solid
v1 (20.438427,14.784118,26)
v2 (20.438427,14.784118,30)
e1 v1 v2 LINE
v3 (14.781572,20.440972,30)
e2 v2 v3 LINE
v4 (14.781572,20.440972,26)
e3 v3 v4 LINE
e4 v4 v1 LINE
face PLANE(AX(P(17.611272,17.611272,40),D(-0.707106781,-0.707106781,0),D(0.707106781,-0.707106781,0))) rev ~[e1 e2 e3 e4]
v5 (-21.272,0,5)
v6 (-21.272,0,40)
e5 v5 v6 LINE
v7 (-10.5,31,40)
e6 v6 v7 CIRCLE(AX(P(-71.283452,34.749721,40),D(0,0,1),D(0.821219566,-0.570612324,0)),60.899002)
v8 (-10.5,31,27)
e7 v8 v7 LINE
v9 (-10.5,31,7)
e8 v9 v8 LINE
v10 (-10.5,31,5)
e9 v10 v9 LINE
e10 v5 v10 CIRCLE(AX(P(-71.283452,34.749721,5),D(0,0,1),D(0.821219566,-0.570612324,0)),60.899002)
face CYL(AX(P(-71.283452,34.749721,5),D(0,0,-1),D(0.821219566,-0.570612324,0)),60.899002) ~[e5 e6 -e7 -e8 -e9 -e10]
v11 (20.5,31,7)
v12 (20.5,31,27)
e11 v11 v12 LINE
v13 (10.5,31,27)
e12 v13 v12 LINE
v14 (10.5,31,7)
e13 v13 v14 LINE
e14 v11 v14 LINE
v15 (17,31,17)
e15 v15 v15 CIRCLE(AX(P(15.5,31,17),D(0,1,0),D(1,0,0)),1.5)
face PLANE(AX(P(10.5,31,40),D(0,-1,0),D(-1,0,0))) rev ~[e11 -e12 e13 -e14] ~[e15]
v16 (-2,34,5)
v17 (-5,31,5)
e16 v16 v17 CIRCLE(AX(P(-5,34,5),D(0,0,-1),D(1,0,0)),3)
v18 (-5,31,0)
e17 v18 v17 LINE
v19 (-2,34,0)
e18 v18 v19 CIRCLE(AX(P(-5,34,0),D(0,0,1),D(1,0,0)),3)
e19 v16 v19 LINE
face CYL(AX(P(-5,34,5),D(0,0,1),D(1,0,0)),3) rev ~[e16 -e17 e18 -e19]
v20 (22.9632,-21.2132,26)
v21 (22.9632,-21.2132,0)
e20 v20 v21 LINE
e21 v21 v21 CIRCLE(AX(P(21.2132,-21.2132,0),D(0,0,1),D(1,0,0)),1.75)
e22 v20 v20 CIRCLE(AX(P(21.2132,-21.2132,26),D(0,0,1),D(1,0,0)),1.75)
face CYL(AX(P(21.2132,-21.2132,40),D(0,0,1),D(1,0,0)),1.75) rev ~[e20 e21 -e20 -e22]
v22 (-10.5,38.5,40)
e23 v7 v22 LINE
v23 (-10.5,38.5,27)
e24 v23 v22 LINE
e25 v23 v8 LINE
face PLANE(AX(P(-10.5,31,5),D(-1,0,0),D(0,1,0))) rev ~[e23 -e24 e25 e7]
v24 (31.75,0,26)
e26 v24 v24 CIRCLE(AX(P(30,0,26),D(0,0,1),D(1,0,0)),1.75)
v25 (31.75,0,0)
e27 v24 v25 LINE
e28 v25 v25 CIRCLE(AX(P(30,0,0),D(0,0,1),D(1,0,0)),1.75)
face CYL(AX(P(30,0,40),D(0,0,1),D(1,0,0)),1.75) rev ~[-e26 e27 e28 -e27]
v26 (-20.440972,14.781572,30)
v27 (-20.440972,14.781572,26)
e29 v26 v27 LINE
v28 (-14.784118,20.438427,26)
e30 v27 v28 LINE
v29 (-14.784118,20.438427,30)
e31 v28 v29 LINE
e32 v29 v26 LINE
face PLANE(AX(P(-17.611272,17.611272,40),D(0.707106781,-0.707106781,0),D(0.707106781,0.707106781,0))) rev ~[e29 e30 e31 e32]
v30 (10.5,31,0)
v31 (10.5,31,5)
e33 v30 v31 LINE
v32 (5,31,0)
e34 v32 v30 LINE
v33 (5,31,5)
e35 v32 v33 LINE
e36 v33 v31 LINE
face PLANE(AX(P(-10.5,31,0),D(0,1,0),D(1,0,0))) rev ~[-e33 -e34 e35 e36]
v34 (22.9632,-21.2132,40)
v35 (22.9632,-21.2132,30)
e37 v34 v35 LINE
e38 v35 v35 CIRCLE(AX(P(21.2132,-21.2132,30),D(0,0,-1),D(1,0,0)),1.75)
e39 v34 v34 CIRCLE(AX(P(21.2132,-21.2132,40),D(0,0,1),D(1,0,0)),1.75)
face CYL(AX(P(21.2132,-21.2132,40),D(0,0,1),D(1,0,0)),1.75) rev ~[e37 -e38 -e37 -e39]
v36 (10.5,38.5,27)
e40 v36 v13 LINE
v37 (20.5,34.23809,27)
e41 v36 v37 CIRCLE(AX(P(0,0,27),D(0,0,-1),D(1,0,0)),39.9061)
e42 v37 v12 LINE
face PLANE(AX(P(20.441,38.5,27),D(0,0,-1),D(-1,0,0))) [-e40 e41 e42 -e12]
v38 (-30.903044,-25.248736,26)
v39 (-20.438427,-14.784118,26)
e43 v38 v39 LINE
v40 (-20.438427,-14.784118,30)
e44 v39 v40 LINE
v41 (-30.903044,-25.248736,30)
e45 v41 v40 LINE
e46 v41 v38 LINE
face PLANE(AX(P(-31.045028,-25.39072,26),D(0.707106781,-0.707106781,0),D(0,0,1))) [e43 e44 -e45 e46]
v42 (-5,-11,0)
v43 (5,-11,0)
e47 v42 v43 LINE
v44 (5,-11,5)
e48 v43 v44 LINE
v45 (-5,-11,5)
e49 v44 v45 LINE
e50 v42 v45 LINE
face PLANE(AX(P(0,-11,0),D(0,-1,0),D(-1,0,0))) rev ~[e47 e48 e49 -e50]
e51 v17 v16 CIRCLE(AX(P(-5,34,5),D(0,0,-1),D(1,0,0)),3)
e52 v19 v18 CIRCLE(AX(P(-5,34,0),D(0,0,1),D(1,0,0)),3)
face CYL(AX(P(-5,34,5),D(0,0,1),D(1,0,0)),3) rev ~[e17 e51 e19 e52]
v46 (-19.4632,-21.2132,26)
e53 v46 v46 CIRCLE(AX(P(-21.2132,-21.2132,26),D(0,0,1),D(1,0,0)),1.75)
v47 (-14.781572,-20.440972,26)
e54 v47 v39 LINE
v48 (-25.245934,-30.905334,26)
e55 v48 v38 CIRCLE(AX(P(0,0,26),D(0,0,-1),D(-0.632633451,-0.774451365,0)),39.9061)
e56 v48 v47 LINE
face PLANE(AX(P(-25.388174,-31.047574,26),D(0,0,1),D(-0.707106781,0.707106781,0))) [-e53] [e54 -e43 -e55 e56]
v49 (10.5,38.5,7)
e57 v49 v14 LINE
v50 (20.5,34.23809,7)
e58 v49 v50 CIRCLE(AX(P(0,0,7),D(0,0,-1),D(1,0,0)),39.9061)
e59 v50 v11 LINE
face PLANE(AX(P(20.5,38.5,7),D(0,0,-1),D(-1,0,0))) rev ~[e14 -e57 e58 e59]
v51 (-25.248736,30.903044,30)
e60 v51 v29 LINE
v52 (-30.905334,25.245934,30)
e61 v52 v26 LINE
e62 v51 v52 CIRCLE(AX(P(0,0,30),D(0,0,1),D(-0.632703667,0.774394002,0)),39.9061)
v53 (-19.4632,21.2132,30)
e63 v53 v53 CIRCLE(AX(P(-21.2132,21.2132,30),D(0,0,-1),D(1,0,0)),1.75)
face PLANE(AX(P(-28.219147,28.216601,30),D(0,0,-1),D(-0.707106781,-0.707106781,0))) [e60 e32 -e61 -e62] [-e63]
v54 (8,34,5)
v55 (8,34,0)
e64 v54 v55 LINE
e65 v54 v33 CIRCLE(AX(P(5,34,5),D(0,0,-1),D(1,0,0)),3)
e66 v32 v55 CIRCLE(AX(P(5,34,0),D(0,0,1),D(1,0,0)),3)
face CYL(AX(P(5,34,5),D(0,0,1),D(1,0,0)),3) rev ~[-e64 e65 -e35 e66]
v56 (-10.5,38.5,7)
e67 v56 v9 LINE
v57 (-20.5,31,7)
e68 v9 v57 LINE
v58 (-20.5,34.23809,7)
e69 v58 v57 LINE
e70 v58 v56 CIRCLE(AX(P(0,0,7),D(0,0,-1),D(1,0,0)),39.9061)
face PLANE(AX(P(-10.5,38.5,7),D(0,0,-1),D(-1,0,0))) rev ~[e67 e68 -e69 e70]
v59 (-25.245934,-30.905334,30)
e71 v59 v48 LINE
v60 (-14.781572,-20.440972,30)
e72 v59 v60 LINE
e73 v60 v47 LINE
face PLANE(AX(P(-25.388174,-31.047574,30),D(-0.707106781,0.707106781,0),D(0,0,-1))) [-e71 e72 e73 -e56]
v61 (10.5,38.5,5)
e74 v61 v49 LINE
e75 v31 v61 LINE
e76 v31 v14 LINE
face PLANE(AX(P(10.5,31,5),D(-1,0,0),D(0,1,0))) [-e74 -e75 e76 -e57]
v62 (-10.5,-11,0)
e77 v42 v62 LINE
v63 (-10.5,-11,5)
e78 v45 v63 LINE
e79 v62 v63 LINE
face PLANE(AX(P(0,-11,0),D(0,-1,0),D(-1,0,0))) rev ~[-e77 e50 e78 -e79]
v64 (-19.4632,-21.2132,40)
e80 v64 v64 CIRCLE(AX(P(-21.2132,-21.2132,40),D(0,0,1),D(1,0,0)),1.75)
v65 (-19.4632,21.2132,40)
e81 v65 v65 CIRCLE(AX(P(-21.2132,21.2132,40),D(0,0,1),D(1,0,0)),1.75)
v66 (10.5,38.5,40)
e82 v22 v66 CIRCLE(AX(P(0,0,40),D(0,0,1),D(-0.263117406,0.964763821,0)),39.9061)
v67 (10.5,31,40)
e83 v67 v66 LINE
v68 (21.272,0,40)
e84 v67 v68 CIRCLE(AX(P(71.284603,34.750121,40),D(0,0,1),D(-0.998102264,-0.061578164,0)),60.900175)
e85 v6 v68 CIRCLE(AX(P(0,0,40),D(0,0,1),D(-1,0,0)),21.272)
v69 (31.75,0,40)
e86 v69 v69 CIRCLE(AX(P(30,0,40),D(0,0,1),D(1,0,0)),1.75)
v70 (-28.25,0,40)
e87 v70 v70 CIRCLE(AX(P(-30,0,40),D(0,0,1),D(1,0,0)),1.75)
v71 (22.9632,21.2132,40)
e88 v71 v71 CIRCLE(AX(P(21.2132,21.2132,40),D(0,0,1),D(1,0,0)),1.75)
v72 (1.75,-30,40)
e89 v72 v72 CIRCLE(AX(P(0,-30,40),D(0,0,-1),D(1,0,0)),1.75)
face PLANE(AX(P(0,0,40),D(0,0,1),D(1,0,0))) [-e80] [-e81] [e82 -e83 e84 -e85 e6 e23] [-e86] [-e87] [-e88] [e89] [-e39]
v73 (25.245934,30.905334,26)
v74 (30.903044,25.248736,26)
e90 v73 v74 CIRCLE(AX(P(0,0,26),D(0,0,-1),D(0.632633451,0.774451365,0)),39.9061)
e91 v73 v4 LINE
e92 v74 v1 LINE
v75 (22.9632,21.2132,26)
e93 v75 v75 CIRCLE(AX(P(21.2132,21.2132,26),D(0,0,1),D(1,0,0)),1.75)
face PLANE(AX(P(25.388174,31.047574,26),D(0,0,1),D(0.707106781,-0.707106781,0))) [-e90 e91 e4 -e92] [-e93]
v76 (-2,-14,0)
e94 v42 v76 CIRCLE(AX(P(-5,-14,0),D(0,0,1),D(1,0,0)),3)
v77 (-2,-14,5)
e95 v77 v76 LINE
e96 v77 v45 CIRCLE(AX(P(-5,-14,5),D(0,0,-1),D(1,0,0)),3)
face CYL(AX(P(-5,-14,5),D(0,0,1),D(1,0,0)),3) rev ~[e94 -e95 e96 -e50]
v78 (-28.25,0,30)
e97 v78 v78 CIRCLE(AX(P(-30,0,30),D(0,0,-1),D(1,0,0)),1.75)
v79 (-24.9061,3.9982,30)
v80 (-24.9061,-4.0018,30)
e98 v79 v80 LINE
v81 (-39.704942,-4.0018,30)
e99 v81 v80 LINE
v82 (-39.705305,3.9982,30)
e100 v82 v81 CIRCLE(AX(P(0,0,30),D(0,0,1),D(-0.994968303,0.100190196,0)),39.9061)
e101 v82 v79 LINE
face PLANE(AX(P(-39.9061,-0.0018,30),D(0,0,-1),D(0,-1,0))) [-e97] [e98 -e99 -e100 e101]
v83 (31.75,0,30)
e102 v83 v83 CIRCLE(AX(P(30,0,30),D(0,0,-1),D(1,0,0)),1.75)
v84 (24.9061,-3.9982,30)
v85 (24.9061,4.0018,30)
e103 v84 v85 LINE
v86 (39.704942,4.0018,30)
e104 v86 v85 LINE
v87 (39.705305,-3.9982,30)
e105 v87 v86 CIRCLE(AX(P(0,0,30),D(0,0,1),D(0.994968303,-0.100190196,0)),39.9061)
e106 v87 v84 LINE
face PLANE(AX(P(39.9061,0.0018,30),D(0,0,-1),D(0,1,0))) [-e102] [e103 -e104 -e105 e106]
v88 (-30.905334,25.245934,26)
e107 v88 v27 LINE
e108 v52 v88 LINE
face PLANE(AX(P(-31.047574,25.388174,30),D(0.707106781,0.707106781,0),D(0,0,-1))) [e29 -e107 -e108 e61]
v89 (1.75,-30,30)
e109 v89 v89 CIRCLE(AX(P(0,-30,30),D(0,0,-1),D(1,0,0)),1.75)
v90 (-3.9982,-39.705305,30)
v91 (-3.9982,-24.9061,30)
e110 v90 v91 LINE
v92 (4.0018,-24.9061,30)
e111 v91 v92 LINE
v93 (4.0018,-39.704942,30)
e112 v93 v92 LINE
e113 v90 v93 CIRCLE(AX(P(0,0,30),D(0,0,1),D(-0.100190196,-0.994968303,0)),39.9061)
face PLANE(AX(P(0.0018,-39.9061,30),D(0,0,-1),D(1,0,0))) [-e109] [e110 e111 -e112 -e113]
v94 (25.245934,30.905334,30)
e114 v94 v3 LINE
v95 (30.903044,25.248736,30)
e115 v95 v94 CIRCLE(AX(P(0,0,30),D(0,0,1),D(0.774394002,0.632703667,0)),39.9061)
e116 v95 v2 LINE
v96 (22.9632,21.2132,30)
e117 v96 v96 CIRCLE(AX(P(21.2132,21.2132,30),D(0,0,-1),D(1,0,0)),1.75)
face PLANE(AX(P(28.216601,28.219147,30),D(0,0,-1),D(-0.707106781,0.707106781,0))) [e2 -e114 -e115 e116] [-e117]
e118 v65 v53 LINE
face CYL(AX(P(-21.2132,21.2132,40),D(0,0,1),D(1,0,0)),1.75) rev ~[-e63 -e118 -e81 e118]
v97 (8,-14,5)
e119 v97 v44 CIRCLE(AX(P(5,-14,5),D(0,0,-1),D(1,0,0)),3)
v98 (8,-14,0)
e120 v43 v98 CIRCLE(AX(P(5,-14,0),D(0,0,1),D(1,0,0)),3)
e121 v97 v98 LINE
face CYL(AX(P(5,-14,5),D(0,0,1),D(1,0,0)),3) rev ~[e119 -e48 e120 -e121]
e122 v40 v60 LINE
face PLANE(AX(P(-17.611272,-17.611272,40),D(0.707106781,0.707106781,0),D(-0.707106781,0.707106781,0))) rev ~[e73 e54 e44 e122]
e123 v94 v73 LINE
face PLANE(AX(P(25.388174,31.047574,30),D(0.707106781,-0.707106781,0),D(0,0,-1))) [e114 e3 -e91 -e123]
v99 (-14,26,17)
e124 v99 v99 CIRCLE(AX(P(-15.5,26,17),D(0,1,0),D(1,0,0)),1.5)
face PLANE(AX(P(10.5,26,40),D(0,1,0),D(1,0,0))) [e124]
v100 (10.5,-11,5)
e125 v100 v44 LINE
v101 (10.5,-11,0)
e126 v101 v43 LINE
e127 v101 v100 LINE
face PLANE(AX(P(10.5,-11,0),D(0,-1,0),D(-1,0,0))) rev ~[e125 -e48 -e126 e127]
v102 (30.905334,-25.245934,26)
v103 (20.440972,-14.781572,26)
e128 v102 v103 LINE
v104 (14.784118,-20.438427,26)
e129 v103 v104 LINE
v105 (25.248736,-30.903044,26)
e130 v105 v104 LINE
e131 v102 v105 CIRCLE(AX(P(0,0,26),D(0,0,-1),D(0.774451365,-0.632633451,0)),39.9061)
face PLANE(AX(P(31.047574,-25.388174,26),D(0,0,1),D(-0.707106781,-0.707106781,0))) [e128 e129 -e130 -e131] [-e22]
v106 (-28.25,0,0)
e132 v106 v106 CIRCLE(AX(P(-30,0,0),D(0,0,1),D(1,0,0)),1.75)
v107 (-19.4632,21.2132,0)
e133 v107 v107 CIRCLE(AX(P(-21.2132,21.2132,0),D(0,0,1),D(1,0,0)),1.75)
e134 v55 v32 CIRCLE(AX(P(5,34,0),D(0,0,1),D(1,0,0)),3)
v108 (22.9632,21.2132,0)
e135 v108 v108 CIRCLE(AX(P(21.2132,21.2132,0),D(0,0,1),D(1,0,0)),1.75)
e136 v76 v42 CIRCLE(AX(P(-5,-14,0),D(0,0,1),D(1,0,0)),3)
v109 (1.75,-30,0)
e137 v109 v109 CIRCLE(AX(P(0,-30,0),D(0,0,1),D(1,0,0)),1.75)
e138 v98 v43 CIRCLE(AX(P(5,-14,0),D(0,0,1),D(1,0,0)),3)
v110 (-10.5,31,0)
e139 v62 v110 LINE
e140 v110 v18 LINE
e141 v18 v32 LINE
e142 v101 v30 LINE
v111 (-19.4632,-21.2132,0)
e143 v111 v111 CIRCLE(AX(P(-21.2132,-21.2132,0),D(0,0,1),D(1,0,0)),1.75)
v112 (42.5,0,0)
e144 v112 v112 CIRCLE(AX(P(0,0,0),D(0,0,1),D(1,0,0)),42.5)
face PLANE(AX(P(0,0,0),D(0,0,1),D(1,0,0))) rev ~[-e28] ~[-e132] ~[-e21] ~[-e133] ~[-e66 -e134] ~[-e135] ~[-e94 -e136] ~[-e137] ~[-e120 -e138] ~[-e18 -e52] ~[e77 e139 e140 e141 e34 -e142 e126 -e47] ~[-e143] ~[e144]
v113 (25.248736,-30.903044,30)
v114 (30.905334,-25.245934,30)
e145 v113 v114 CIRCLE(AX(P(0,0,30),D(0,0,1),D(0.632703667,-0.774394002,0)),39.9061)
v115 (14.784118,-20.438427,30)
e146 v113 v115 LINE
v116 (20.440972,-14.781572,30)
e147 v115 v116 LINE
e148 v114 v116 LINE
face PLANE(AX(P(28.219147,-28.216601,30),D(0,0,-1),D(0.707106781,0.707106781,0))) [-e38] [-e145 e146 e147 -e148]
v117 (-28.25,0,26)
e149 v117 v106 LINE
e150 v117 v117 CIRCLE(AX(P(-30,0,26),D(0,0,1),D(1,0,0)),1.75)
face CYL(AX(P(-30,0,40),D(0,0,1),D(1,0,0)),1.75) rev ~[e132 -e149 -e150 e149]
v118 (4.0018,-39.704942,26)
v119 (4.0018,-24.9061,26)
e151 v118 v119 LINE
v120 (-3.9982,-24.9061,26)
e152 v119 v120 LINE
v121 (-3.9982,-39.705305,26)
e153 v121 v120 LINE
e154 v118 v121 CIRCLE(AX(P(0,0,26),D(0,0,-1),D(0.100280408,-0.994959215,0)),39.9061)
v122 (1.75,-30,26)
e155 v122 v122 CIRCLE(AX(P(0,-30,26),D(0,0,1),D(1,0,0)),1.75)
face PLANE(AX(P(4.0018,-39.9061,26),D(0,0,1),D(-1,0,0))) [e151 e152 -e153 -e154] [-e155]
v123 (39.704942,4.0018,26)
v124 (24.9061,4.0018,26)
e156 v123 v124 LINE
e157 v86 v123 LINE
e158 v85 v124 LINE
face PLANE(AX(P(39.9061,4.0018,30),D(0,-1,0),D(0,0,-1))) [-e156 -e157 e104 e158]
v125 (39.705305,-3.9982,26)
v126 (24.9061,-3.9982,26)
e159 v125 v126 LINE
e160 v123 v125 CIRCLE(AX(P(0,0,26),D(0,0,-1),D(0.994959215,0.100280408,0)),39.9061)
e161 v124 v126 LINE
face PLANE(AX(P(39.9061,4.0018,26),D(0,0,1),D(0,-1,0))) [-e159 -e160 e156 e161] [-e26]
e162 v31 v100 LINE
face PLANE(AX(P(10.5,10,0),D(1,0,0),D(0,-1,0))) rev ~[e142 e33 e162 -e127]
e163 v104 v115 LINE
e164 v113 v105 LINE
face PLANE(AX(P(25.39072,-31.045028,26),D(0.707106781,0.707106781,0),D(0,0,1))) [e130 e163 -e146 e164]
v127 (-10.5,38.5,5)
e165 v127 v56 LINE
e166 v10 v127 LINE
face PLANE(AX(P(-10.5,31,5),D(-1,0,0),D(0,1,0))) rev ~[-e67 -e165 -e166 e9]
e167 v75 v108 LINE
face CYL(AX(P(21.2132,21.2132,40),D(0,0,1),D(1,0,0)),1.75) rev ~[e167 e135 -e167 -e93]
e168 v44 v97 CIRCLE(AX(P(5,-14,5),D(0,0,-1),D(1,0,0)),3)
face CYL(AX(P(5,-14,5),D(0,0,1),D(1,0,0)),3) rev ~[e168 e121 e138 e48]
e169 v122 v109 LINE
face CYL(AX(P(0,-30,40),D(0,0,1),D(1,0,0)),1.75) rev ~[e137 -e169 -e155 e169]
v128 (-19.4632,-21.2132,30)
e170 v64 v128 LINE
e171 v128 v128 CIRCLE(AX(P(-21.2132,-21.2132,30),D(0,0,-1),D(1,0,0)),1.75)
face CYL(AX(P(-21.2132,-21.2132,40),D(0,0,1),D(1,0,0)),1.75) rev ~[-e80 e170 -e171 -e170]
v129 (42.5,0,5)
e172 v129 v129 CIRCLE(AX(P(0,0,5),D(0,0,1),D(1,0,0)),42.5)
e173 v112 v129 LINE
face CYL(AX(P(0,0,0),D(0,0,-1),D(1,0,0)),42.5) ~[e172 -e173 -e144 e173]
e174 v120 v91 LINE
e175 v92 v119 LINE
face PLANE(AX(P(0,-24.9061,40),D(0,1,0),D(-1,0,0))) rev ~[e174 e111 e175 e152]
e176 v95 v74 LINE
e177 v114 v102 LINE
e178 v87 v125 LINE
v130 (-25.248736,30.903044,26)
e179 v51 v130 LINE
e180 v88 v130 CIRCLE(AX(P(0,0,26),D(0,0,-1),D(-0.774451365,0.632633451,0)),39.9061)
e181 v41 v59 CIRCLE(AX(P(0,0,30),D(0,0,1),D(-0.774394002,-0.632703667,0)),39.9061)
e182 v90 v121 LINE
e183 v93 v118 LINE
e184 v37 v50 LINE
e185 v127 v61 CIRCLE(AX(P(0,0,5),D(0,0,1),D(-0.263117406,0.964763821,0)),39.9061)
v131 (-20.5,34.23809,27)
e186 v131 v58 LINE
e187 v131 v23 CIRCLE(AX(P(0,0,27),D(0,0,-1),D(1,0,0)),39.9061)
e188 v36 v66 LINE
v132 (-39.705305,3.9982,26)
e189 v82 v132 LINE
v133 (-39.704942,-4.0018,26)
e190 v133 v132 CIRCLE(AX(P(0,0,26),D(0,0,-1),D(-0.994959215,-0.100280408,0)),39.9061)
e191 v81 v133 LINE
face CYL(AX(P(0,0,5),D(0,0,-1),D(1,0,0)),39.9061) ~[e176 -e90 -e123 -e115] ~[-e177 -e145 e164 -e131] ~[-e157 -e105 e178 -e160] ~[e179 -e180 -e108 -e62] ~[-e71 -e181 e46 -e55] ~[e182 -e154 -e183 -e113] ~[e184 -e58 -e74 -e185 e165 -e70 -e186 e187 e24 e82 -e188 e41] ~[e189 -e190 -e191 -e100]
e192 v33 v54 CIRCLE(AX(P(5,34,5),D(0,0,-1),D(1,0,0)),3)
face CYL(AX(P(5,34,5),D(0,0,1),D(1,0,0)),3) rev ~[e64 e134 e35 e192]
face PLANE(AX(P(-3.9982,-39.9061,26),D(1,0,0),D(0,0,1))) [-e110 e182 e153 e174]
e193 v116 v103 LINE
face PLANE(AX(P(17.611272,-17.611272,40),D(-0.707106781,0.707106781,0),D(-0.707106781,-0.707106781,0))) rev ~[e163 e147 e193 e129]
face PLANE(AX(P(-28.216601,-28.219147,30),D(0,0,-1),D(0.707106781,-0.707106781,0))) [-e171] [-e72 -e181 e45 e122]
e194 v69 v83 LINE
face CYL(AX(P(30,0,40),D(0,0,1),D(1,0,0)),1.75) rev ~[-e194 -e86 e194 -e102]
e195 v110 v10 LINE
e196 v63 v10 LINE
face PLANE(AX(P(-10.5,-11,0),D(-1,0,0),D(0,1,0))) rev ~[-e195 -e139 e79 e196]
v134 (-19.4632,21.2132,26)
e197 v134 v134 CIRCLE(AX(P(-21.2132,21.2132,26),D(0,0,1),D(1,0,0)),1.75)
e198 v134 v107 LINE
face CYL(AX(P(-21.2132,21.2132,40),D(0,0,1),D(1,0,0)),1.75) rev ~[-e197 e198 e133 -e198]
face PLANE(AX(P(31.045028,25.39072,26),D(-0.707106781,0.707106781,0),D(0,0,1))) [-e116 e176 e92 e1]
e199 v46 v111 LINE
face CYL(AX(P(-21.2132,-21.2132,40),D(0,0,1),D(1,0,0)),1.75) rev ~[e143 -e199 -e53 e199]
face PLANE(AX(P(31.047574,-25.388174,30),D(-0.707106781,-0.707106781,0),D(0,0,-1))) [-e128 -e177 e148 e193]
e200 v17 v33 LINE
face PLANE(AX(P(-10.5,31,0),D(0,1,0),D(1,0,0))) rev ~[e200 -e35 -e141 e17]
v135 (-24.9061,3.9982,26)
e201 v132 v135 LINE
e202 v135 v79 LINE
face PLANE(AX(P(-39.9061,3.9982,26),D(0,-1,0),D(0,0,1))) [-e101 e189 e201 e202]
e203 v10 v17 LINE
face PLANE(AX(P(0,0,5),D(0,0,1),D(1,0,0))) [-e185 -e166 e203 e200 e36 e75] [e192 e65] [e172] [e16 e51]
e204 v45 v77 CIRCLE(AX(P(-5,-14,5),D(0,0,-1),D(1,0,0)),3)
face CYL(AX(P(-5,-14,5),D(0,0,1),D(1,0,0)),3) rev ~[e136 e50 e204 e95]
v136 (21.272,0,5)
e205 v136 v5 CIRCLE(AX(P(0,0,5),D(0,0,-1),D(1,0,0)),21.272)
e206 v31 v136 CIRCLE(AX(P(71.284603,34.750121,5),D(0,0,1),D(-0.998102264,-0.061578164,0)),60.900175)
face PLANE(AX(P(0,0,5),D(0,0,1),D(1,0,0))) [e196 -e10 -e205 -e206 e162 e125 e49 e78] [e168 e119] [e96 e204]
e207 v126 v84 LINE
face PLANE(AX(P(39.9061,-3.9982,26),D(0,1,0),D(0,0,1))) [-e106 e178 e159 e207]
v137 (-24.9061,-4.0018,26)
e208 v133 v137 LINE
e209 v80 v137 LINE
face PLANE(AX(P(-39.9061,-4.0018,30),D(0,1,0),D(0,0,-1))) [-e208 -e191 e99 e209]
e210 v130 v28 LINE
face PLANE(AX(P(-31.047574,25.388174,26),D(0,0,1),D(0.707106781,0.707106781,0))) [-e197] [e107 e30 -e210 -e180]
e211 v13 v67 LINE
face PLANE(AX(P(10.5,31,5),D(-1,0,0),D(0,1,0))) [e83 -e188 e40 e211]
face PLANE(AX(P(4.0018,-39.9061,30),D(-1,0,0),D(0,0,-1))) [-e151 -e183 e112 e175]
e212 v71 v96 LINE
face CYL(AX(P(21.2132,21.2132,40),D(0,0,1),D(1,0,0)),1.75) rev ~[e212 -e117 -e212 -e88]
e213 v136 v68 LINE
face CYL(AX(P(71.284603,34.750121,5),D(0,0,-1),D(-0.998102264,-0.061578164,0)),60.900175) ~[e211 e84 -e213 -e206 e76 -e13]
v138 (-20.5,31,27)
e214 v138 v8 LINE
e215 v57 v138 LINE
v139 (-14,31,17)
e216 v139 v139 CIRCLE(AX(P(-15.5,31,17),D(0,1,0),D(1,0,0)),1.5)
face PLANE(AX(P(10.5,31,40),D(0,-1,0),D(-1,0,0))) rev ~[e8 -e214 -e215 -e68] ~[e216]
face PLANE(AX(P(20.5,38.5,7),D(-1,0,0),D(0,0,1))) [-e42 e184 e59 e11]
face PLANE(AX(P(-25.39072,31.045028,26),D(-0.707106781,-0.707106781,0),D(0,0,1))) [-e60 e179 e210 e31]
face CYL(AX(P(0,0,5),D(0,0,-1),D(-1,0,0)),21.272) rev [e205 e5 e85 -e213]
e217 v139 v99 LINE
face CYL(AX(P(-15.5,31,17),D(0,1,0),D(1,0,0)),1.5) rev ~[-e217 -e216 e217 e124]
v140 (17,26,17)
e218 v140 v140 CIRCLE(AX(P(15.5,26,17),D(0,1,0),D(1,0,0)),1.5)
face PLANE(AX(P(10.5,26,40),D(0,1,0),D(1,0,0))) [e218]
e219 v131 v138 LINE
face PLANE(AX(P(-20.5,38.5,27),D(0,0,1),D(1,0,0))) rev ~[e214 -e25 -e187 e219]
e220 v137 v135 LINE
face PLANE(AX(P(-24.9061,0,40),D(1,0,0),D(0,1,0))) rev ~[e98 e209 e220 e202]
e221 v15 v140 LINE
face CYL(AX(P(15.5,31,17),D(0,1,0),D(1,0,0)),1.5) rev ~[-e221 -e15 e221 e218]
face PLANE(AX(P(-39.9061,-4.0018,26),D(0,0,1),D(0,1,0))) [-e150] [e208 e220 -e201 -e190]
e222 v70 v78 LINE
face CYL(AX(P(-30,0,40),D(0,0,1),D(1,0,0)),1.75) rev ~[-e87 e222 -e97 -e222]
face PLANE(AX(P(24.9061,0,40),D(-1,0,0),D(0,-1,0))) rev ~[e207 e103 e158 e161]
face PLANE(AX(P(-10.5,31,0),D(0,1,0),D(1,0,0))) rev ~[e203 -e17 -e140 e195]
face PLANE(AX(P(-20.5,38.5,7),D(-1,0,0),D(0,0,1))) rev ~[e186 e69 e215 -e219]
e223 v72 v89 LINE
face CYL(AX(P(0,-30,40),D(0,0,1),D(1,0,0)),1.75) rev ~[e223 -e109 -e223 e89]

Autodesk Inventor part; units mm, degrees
ref_plane "YZ Plane" through (0, 0, 0) normal (1, 0, 0) x (0, 1, 0)
ref_plane "XY Plane" through (0, 0, 0) normal (0, 0, 1) x (1, 0, 0)
sketch "Sketch1" plane through (0, 0, 0) normal (0, 0, 1) x (1, 0, 0)
  line L0 (0, -11) -> (-10.5, -11)
  line L1 (-10.5, -11) -> (-10.5, 31)
  line L2 (-10.5, 31) -> (10.5, 31)
  line L3 (10.5, 31) -> (10.5, -11)
  line L4 (10.5, -11) -> (0, -11)
  line L5 (10.5, 10) -> (0, 10)
  line L6 (0, 0) -> (0, 10)
  circle A0 centre (0, 0) radius 42.5
  dimension "d1" = 42
  dimension "d28" = 21
  dimension "d76" = 10
  dimension "d77" = 10.5
  dimension "d78" = 85
extrude "Extrusion6" add sketch "Sketch1" along normal blind 5
sketch "Sketch9" plane through (0, 0, 5) normal (0, 0, 1) x (1, 0, 0)
  line L0 (10.5, -11) -> (-10.5, -11) projected
  line L1 (0, -11) -> (0, -14)
  line L2 (0, -14) -> (-5, -14)
  circle A0 centre (-5, -14) radius 3
  line L3 (0, -14) -> (5, -14)
  circle A1 centre (5, -14) radius 3
  line L4 (-10.5, -11) -> (-10.5, 31) projected
  line L5 (-10.5, 10) -> (10.5, 10)
  line L6 (10.5, 31) -> (-10.5, 31)
  line L7 (0, 31) -> (0, 34)
  line L8 (0, 34) -> (-5, 34)
  circle A2 centre (-5, 34) radius 3
  line L9 (0, 34) -> (5, 34)
  circle A3 centre (5, 34) radius 3
  dimension "d79" = 3
  dimension "d80" = 5
  dimension "d81" = 6
  dimension "d82" = 5
  dimension "d83" = 6
extrude "Extrusion12" cut sketch "Sketch9" against normal through all contours A2 | A1 | A0 | A3
sketch "Sketch10" plane through (0, 0, 5) normal (0, 0, 1) x (1, 0, 0)
  line L0 (-10.5, 31) -> (-10.5, 38.5)
  circle A0 centre (0, 0) radius 39.9061
  line L1 (-10.5, -11) -> (-10.5, -18.5)
  arc A1 (-21.272, 0) -> (21.272, 0) centre (0, 0) ccw
  arc A2 (-21.272, 0) -> (-10.5, 31) centre (-71.284, 34.75) ccw
  line L2 (10.5, 31) -> (10.5, 38.5)
  arc A3 (10.5, 31) -> (21.272, 0) centre (71.284, 34.75) ccw
  dimension "d86" = 7.5
  dimension "d87" = 79.8123
  dimension "d88" = 7.5
extrude "Extrusion13" add sketch "Sketch10" along normal blind 35 contours A2 A1 A3 L2 A0 L0 picked at (-28.5299, 15.6602)
sketch "Sketch11" plane through (0, 0, 40) normal (0, 0, 1) x (1, 0, 0)
  line L0 (0, 0) -> (0, -30)
  circle A0 centre (0, -30) radius 1.75
  circle A1 centre (21.2132, -21.2132) radius 1.75
  circle A2 centre (30, 0) radius 1.75
  circle A3 centre (21.2132, 21.2132) radius 1.75
  circle A4 centre (0, 30) radius 1.75
  circle A5 centre (-21.2132, 21.2132) radius 1.75
  circle A6 centre (-30, 0) radius 1.75
  circle A7 centre (-21.2132, -21.2132) radius 1.75
  dimension "d91" = 30
  dimension "d92" = 3.5
  dimension "d95" = 360
extrude "Extrusion14" cut sketch "Sketch11" against normal through all contours A0 | A1 | A2 | A3 | A5 | A6 | A7
sketch "Sketch12" plane through (0, 0, 40) normal (0, 0, 1) x (1, 0, 0)
  line L0 (0, 0) -> (0, -39.9061)
  arc A0 (-10.5, 38.5) -> (10.5, 38.5) centre (0, 0) ccw projected
ref_plane "Work Plane2" through (0, -39.9061, 40) normal (0, 1, 0) x (-1, 0, 0)
sketch "Sketch13" plane through (0, -39.9061, 40) normal (0, 1, 0) x (-1, 0, 0)
  line L0 (-0.0018, 0) -> (-0.0018, -10)
  line L1 (-0.0018, -10) -> (-4.0018, -10)
  line L2 (-4.0018, -10) -> (-4.0018, -14)
  line L3 (-4.0018, -14) -> (3.9982, -14)
  line L4 (3.9982, -14) -> (3.9982, -10)
  line L5 (3.9982, -10) -> (-0.0018, -10)
  point P0 (0, -40)
  dimension "d99" = 10
  dimension "d100" = 4
  dimension "d101" = 4
  dimension "d102" = 8
extrude "Extrusion15" cut sketch "Sketch13" along normal blind 15
pattern_circular "Circular Pattern2" count 8 over 360 about axis through (0, 0, 5) along (0, 0, 1) of "Extrusion15"
ref_plane "Work Plane3" through (10.5, 38.5, 40) normal (0, -1, 0) x (-1, 0, 0)
sketch "Sketch14" plane through (10.5, 38.5, 40) normal (0, -1, 0) x (-1, 0, 0)
  line L0 (0, 35) -> (5.5, 35) projected
  line L1 (-10.772, 35) -> (-10.772, 0) projected
  line L2 (-10, 35) -> (-8, 35) construction
  line L3 (-10, 33) -> (0, 33)
  line L4 (-10, 33) -> (-10, 13)
  line L5 (-9.941, 10) -> (-9.941, 14) projected
  line L6 (-10, 33) -> (10, 33) construction
  line L7 (-10, 13) -> (0, 13)
  line L8 (0, 13) -> (0, 33)
  line L9 (0, 35) -> (0, 0) projected
  line L10 (21, 35) -> (21, 0) projected
  line L11 (21, 33) -> (31, 33)
  line L12 (31, 33) -> (31, 13)
  line L13 (31, 13) -> (21, 13)
  line L14 (21, 13) -> (21, 33)
  point P0 (10.5, 40)
  dimension "d109" = 2
  dimension "d111" = 20
  dimension "d112" = 90
  dimension "d113" = 10
  dimension "d114" = 20
extrude "Extrusion16" cut sketch "Sketch14" along normal blind 7.5
sketch "Sketch15" plane through (10.5, 31, 40) normal (0, 1, 0) x (1, 0, 0)
  line L0 (-21, 13) -> (-21, 0) projected
  line L1 (-31, 13) -> (-31, 33) projected
  line L2 (-21, 33) -> (-21, 13) projected
  line L3 (0, 35) -> (0, 33) projected
  line L4 (10, 13) -> (0, 13) projected
  line L5 (0, 33) -> (10, 33) projected
  circle A0 centre (5, 23) radius 1.5
  circle A1 centre (-26, 23) radius 1.5
  point P0 (-10.5, 40)
  dimension "d118" = 3
  dimension "d119" = 3
extrude "Extrusion17" cut sketch "Sketch15" against normal blind 5
properties part number "rotacion2_top"
